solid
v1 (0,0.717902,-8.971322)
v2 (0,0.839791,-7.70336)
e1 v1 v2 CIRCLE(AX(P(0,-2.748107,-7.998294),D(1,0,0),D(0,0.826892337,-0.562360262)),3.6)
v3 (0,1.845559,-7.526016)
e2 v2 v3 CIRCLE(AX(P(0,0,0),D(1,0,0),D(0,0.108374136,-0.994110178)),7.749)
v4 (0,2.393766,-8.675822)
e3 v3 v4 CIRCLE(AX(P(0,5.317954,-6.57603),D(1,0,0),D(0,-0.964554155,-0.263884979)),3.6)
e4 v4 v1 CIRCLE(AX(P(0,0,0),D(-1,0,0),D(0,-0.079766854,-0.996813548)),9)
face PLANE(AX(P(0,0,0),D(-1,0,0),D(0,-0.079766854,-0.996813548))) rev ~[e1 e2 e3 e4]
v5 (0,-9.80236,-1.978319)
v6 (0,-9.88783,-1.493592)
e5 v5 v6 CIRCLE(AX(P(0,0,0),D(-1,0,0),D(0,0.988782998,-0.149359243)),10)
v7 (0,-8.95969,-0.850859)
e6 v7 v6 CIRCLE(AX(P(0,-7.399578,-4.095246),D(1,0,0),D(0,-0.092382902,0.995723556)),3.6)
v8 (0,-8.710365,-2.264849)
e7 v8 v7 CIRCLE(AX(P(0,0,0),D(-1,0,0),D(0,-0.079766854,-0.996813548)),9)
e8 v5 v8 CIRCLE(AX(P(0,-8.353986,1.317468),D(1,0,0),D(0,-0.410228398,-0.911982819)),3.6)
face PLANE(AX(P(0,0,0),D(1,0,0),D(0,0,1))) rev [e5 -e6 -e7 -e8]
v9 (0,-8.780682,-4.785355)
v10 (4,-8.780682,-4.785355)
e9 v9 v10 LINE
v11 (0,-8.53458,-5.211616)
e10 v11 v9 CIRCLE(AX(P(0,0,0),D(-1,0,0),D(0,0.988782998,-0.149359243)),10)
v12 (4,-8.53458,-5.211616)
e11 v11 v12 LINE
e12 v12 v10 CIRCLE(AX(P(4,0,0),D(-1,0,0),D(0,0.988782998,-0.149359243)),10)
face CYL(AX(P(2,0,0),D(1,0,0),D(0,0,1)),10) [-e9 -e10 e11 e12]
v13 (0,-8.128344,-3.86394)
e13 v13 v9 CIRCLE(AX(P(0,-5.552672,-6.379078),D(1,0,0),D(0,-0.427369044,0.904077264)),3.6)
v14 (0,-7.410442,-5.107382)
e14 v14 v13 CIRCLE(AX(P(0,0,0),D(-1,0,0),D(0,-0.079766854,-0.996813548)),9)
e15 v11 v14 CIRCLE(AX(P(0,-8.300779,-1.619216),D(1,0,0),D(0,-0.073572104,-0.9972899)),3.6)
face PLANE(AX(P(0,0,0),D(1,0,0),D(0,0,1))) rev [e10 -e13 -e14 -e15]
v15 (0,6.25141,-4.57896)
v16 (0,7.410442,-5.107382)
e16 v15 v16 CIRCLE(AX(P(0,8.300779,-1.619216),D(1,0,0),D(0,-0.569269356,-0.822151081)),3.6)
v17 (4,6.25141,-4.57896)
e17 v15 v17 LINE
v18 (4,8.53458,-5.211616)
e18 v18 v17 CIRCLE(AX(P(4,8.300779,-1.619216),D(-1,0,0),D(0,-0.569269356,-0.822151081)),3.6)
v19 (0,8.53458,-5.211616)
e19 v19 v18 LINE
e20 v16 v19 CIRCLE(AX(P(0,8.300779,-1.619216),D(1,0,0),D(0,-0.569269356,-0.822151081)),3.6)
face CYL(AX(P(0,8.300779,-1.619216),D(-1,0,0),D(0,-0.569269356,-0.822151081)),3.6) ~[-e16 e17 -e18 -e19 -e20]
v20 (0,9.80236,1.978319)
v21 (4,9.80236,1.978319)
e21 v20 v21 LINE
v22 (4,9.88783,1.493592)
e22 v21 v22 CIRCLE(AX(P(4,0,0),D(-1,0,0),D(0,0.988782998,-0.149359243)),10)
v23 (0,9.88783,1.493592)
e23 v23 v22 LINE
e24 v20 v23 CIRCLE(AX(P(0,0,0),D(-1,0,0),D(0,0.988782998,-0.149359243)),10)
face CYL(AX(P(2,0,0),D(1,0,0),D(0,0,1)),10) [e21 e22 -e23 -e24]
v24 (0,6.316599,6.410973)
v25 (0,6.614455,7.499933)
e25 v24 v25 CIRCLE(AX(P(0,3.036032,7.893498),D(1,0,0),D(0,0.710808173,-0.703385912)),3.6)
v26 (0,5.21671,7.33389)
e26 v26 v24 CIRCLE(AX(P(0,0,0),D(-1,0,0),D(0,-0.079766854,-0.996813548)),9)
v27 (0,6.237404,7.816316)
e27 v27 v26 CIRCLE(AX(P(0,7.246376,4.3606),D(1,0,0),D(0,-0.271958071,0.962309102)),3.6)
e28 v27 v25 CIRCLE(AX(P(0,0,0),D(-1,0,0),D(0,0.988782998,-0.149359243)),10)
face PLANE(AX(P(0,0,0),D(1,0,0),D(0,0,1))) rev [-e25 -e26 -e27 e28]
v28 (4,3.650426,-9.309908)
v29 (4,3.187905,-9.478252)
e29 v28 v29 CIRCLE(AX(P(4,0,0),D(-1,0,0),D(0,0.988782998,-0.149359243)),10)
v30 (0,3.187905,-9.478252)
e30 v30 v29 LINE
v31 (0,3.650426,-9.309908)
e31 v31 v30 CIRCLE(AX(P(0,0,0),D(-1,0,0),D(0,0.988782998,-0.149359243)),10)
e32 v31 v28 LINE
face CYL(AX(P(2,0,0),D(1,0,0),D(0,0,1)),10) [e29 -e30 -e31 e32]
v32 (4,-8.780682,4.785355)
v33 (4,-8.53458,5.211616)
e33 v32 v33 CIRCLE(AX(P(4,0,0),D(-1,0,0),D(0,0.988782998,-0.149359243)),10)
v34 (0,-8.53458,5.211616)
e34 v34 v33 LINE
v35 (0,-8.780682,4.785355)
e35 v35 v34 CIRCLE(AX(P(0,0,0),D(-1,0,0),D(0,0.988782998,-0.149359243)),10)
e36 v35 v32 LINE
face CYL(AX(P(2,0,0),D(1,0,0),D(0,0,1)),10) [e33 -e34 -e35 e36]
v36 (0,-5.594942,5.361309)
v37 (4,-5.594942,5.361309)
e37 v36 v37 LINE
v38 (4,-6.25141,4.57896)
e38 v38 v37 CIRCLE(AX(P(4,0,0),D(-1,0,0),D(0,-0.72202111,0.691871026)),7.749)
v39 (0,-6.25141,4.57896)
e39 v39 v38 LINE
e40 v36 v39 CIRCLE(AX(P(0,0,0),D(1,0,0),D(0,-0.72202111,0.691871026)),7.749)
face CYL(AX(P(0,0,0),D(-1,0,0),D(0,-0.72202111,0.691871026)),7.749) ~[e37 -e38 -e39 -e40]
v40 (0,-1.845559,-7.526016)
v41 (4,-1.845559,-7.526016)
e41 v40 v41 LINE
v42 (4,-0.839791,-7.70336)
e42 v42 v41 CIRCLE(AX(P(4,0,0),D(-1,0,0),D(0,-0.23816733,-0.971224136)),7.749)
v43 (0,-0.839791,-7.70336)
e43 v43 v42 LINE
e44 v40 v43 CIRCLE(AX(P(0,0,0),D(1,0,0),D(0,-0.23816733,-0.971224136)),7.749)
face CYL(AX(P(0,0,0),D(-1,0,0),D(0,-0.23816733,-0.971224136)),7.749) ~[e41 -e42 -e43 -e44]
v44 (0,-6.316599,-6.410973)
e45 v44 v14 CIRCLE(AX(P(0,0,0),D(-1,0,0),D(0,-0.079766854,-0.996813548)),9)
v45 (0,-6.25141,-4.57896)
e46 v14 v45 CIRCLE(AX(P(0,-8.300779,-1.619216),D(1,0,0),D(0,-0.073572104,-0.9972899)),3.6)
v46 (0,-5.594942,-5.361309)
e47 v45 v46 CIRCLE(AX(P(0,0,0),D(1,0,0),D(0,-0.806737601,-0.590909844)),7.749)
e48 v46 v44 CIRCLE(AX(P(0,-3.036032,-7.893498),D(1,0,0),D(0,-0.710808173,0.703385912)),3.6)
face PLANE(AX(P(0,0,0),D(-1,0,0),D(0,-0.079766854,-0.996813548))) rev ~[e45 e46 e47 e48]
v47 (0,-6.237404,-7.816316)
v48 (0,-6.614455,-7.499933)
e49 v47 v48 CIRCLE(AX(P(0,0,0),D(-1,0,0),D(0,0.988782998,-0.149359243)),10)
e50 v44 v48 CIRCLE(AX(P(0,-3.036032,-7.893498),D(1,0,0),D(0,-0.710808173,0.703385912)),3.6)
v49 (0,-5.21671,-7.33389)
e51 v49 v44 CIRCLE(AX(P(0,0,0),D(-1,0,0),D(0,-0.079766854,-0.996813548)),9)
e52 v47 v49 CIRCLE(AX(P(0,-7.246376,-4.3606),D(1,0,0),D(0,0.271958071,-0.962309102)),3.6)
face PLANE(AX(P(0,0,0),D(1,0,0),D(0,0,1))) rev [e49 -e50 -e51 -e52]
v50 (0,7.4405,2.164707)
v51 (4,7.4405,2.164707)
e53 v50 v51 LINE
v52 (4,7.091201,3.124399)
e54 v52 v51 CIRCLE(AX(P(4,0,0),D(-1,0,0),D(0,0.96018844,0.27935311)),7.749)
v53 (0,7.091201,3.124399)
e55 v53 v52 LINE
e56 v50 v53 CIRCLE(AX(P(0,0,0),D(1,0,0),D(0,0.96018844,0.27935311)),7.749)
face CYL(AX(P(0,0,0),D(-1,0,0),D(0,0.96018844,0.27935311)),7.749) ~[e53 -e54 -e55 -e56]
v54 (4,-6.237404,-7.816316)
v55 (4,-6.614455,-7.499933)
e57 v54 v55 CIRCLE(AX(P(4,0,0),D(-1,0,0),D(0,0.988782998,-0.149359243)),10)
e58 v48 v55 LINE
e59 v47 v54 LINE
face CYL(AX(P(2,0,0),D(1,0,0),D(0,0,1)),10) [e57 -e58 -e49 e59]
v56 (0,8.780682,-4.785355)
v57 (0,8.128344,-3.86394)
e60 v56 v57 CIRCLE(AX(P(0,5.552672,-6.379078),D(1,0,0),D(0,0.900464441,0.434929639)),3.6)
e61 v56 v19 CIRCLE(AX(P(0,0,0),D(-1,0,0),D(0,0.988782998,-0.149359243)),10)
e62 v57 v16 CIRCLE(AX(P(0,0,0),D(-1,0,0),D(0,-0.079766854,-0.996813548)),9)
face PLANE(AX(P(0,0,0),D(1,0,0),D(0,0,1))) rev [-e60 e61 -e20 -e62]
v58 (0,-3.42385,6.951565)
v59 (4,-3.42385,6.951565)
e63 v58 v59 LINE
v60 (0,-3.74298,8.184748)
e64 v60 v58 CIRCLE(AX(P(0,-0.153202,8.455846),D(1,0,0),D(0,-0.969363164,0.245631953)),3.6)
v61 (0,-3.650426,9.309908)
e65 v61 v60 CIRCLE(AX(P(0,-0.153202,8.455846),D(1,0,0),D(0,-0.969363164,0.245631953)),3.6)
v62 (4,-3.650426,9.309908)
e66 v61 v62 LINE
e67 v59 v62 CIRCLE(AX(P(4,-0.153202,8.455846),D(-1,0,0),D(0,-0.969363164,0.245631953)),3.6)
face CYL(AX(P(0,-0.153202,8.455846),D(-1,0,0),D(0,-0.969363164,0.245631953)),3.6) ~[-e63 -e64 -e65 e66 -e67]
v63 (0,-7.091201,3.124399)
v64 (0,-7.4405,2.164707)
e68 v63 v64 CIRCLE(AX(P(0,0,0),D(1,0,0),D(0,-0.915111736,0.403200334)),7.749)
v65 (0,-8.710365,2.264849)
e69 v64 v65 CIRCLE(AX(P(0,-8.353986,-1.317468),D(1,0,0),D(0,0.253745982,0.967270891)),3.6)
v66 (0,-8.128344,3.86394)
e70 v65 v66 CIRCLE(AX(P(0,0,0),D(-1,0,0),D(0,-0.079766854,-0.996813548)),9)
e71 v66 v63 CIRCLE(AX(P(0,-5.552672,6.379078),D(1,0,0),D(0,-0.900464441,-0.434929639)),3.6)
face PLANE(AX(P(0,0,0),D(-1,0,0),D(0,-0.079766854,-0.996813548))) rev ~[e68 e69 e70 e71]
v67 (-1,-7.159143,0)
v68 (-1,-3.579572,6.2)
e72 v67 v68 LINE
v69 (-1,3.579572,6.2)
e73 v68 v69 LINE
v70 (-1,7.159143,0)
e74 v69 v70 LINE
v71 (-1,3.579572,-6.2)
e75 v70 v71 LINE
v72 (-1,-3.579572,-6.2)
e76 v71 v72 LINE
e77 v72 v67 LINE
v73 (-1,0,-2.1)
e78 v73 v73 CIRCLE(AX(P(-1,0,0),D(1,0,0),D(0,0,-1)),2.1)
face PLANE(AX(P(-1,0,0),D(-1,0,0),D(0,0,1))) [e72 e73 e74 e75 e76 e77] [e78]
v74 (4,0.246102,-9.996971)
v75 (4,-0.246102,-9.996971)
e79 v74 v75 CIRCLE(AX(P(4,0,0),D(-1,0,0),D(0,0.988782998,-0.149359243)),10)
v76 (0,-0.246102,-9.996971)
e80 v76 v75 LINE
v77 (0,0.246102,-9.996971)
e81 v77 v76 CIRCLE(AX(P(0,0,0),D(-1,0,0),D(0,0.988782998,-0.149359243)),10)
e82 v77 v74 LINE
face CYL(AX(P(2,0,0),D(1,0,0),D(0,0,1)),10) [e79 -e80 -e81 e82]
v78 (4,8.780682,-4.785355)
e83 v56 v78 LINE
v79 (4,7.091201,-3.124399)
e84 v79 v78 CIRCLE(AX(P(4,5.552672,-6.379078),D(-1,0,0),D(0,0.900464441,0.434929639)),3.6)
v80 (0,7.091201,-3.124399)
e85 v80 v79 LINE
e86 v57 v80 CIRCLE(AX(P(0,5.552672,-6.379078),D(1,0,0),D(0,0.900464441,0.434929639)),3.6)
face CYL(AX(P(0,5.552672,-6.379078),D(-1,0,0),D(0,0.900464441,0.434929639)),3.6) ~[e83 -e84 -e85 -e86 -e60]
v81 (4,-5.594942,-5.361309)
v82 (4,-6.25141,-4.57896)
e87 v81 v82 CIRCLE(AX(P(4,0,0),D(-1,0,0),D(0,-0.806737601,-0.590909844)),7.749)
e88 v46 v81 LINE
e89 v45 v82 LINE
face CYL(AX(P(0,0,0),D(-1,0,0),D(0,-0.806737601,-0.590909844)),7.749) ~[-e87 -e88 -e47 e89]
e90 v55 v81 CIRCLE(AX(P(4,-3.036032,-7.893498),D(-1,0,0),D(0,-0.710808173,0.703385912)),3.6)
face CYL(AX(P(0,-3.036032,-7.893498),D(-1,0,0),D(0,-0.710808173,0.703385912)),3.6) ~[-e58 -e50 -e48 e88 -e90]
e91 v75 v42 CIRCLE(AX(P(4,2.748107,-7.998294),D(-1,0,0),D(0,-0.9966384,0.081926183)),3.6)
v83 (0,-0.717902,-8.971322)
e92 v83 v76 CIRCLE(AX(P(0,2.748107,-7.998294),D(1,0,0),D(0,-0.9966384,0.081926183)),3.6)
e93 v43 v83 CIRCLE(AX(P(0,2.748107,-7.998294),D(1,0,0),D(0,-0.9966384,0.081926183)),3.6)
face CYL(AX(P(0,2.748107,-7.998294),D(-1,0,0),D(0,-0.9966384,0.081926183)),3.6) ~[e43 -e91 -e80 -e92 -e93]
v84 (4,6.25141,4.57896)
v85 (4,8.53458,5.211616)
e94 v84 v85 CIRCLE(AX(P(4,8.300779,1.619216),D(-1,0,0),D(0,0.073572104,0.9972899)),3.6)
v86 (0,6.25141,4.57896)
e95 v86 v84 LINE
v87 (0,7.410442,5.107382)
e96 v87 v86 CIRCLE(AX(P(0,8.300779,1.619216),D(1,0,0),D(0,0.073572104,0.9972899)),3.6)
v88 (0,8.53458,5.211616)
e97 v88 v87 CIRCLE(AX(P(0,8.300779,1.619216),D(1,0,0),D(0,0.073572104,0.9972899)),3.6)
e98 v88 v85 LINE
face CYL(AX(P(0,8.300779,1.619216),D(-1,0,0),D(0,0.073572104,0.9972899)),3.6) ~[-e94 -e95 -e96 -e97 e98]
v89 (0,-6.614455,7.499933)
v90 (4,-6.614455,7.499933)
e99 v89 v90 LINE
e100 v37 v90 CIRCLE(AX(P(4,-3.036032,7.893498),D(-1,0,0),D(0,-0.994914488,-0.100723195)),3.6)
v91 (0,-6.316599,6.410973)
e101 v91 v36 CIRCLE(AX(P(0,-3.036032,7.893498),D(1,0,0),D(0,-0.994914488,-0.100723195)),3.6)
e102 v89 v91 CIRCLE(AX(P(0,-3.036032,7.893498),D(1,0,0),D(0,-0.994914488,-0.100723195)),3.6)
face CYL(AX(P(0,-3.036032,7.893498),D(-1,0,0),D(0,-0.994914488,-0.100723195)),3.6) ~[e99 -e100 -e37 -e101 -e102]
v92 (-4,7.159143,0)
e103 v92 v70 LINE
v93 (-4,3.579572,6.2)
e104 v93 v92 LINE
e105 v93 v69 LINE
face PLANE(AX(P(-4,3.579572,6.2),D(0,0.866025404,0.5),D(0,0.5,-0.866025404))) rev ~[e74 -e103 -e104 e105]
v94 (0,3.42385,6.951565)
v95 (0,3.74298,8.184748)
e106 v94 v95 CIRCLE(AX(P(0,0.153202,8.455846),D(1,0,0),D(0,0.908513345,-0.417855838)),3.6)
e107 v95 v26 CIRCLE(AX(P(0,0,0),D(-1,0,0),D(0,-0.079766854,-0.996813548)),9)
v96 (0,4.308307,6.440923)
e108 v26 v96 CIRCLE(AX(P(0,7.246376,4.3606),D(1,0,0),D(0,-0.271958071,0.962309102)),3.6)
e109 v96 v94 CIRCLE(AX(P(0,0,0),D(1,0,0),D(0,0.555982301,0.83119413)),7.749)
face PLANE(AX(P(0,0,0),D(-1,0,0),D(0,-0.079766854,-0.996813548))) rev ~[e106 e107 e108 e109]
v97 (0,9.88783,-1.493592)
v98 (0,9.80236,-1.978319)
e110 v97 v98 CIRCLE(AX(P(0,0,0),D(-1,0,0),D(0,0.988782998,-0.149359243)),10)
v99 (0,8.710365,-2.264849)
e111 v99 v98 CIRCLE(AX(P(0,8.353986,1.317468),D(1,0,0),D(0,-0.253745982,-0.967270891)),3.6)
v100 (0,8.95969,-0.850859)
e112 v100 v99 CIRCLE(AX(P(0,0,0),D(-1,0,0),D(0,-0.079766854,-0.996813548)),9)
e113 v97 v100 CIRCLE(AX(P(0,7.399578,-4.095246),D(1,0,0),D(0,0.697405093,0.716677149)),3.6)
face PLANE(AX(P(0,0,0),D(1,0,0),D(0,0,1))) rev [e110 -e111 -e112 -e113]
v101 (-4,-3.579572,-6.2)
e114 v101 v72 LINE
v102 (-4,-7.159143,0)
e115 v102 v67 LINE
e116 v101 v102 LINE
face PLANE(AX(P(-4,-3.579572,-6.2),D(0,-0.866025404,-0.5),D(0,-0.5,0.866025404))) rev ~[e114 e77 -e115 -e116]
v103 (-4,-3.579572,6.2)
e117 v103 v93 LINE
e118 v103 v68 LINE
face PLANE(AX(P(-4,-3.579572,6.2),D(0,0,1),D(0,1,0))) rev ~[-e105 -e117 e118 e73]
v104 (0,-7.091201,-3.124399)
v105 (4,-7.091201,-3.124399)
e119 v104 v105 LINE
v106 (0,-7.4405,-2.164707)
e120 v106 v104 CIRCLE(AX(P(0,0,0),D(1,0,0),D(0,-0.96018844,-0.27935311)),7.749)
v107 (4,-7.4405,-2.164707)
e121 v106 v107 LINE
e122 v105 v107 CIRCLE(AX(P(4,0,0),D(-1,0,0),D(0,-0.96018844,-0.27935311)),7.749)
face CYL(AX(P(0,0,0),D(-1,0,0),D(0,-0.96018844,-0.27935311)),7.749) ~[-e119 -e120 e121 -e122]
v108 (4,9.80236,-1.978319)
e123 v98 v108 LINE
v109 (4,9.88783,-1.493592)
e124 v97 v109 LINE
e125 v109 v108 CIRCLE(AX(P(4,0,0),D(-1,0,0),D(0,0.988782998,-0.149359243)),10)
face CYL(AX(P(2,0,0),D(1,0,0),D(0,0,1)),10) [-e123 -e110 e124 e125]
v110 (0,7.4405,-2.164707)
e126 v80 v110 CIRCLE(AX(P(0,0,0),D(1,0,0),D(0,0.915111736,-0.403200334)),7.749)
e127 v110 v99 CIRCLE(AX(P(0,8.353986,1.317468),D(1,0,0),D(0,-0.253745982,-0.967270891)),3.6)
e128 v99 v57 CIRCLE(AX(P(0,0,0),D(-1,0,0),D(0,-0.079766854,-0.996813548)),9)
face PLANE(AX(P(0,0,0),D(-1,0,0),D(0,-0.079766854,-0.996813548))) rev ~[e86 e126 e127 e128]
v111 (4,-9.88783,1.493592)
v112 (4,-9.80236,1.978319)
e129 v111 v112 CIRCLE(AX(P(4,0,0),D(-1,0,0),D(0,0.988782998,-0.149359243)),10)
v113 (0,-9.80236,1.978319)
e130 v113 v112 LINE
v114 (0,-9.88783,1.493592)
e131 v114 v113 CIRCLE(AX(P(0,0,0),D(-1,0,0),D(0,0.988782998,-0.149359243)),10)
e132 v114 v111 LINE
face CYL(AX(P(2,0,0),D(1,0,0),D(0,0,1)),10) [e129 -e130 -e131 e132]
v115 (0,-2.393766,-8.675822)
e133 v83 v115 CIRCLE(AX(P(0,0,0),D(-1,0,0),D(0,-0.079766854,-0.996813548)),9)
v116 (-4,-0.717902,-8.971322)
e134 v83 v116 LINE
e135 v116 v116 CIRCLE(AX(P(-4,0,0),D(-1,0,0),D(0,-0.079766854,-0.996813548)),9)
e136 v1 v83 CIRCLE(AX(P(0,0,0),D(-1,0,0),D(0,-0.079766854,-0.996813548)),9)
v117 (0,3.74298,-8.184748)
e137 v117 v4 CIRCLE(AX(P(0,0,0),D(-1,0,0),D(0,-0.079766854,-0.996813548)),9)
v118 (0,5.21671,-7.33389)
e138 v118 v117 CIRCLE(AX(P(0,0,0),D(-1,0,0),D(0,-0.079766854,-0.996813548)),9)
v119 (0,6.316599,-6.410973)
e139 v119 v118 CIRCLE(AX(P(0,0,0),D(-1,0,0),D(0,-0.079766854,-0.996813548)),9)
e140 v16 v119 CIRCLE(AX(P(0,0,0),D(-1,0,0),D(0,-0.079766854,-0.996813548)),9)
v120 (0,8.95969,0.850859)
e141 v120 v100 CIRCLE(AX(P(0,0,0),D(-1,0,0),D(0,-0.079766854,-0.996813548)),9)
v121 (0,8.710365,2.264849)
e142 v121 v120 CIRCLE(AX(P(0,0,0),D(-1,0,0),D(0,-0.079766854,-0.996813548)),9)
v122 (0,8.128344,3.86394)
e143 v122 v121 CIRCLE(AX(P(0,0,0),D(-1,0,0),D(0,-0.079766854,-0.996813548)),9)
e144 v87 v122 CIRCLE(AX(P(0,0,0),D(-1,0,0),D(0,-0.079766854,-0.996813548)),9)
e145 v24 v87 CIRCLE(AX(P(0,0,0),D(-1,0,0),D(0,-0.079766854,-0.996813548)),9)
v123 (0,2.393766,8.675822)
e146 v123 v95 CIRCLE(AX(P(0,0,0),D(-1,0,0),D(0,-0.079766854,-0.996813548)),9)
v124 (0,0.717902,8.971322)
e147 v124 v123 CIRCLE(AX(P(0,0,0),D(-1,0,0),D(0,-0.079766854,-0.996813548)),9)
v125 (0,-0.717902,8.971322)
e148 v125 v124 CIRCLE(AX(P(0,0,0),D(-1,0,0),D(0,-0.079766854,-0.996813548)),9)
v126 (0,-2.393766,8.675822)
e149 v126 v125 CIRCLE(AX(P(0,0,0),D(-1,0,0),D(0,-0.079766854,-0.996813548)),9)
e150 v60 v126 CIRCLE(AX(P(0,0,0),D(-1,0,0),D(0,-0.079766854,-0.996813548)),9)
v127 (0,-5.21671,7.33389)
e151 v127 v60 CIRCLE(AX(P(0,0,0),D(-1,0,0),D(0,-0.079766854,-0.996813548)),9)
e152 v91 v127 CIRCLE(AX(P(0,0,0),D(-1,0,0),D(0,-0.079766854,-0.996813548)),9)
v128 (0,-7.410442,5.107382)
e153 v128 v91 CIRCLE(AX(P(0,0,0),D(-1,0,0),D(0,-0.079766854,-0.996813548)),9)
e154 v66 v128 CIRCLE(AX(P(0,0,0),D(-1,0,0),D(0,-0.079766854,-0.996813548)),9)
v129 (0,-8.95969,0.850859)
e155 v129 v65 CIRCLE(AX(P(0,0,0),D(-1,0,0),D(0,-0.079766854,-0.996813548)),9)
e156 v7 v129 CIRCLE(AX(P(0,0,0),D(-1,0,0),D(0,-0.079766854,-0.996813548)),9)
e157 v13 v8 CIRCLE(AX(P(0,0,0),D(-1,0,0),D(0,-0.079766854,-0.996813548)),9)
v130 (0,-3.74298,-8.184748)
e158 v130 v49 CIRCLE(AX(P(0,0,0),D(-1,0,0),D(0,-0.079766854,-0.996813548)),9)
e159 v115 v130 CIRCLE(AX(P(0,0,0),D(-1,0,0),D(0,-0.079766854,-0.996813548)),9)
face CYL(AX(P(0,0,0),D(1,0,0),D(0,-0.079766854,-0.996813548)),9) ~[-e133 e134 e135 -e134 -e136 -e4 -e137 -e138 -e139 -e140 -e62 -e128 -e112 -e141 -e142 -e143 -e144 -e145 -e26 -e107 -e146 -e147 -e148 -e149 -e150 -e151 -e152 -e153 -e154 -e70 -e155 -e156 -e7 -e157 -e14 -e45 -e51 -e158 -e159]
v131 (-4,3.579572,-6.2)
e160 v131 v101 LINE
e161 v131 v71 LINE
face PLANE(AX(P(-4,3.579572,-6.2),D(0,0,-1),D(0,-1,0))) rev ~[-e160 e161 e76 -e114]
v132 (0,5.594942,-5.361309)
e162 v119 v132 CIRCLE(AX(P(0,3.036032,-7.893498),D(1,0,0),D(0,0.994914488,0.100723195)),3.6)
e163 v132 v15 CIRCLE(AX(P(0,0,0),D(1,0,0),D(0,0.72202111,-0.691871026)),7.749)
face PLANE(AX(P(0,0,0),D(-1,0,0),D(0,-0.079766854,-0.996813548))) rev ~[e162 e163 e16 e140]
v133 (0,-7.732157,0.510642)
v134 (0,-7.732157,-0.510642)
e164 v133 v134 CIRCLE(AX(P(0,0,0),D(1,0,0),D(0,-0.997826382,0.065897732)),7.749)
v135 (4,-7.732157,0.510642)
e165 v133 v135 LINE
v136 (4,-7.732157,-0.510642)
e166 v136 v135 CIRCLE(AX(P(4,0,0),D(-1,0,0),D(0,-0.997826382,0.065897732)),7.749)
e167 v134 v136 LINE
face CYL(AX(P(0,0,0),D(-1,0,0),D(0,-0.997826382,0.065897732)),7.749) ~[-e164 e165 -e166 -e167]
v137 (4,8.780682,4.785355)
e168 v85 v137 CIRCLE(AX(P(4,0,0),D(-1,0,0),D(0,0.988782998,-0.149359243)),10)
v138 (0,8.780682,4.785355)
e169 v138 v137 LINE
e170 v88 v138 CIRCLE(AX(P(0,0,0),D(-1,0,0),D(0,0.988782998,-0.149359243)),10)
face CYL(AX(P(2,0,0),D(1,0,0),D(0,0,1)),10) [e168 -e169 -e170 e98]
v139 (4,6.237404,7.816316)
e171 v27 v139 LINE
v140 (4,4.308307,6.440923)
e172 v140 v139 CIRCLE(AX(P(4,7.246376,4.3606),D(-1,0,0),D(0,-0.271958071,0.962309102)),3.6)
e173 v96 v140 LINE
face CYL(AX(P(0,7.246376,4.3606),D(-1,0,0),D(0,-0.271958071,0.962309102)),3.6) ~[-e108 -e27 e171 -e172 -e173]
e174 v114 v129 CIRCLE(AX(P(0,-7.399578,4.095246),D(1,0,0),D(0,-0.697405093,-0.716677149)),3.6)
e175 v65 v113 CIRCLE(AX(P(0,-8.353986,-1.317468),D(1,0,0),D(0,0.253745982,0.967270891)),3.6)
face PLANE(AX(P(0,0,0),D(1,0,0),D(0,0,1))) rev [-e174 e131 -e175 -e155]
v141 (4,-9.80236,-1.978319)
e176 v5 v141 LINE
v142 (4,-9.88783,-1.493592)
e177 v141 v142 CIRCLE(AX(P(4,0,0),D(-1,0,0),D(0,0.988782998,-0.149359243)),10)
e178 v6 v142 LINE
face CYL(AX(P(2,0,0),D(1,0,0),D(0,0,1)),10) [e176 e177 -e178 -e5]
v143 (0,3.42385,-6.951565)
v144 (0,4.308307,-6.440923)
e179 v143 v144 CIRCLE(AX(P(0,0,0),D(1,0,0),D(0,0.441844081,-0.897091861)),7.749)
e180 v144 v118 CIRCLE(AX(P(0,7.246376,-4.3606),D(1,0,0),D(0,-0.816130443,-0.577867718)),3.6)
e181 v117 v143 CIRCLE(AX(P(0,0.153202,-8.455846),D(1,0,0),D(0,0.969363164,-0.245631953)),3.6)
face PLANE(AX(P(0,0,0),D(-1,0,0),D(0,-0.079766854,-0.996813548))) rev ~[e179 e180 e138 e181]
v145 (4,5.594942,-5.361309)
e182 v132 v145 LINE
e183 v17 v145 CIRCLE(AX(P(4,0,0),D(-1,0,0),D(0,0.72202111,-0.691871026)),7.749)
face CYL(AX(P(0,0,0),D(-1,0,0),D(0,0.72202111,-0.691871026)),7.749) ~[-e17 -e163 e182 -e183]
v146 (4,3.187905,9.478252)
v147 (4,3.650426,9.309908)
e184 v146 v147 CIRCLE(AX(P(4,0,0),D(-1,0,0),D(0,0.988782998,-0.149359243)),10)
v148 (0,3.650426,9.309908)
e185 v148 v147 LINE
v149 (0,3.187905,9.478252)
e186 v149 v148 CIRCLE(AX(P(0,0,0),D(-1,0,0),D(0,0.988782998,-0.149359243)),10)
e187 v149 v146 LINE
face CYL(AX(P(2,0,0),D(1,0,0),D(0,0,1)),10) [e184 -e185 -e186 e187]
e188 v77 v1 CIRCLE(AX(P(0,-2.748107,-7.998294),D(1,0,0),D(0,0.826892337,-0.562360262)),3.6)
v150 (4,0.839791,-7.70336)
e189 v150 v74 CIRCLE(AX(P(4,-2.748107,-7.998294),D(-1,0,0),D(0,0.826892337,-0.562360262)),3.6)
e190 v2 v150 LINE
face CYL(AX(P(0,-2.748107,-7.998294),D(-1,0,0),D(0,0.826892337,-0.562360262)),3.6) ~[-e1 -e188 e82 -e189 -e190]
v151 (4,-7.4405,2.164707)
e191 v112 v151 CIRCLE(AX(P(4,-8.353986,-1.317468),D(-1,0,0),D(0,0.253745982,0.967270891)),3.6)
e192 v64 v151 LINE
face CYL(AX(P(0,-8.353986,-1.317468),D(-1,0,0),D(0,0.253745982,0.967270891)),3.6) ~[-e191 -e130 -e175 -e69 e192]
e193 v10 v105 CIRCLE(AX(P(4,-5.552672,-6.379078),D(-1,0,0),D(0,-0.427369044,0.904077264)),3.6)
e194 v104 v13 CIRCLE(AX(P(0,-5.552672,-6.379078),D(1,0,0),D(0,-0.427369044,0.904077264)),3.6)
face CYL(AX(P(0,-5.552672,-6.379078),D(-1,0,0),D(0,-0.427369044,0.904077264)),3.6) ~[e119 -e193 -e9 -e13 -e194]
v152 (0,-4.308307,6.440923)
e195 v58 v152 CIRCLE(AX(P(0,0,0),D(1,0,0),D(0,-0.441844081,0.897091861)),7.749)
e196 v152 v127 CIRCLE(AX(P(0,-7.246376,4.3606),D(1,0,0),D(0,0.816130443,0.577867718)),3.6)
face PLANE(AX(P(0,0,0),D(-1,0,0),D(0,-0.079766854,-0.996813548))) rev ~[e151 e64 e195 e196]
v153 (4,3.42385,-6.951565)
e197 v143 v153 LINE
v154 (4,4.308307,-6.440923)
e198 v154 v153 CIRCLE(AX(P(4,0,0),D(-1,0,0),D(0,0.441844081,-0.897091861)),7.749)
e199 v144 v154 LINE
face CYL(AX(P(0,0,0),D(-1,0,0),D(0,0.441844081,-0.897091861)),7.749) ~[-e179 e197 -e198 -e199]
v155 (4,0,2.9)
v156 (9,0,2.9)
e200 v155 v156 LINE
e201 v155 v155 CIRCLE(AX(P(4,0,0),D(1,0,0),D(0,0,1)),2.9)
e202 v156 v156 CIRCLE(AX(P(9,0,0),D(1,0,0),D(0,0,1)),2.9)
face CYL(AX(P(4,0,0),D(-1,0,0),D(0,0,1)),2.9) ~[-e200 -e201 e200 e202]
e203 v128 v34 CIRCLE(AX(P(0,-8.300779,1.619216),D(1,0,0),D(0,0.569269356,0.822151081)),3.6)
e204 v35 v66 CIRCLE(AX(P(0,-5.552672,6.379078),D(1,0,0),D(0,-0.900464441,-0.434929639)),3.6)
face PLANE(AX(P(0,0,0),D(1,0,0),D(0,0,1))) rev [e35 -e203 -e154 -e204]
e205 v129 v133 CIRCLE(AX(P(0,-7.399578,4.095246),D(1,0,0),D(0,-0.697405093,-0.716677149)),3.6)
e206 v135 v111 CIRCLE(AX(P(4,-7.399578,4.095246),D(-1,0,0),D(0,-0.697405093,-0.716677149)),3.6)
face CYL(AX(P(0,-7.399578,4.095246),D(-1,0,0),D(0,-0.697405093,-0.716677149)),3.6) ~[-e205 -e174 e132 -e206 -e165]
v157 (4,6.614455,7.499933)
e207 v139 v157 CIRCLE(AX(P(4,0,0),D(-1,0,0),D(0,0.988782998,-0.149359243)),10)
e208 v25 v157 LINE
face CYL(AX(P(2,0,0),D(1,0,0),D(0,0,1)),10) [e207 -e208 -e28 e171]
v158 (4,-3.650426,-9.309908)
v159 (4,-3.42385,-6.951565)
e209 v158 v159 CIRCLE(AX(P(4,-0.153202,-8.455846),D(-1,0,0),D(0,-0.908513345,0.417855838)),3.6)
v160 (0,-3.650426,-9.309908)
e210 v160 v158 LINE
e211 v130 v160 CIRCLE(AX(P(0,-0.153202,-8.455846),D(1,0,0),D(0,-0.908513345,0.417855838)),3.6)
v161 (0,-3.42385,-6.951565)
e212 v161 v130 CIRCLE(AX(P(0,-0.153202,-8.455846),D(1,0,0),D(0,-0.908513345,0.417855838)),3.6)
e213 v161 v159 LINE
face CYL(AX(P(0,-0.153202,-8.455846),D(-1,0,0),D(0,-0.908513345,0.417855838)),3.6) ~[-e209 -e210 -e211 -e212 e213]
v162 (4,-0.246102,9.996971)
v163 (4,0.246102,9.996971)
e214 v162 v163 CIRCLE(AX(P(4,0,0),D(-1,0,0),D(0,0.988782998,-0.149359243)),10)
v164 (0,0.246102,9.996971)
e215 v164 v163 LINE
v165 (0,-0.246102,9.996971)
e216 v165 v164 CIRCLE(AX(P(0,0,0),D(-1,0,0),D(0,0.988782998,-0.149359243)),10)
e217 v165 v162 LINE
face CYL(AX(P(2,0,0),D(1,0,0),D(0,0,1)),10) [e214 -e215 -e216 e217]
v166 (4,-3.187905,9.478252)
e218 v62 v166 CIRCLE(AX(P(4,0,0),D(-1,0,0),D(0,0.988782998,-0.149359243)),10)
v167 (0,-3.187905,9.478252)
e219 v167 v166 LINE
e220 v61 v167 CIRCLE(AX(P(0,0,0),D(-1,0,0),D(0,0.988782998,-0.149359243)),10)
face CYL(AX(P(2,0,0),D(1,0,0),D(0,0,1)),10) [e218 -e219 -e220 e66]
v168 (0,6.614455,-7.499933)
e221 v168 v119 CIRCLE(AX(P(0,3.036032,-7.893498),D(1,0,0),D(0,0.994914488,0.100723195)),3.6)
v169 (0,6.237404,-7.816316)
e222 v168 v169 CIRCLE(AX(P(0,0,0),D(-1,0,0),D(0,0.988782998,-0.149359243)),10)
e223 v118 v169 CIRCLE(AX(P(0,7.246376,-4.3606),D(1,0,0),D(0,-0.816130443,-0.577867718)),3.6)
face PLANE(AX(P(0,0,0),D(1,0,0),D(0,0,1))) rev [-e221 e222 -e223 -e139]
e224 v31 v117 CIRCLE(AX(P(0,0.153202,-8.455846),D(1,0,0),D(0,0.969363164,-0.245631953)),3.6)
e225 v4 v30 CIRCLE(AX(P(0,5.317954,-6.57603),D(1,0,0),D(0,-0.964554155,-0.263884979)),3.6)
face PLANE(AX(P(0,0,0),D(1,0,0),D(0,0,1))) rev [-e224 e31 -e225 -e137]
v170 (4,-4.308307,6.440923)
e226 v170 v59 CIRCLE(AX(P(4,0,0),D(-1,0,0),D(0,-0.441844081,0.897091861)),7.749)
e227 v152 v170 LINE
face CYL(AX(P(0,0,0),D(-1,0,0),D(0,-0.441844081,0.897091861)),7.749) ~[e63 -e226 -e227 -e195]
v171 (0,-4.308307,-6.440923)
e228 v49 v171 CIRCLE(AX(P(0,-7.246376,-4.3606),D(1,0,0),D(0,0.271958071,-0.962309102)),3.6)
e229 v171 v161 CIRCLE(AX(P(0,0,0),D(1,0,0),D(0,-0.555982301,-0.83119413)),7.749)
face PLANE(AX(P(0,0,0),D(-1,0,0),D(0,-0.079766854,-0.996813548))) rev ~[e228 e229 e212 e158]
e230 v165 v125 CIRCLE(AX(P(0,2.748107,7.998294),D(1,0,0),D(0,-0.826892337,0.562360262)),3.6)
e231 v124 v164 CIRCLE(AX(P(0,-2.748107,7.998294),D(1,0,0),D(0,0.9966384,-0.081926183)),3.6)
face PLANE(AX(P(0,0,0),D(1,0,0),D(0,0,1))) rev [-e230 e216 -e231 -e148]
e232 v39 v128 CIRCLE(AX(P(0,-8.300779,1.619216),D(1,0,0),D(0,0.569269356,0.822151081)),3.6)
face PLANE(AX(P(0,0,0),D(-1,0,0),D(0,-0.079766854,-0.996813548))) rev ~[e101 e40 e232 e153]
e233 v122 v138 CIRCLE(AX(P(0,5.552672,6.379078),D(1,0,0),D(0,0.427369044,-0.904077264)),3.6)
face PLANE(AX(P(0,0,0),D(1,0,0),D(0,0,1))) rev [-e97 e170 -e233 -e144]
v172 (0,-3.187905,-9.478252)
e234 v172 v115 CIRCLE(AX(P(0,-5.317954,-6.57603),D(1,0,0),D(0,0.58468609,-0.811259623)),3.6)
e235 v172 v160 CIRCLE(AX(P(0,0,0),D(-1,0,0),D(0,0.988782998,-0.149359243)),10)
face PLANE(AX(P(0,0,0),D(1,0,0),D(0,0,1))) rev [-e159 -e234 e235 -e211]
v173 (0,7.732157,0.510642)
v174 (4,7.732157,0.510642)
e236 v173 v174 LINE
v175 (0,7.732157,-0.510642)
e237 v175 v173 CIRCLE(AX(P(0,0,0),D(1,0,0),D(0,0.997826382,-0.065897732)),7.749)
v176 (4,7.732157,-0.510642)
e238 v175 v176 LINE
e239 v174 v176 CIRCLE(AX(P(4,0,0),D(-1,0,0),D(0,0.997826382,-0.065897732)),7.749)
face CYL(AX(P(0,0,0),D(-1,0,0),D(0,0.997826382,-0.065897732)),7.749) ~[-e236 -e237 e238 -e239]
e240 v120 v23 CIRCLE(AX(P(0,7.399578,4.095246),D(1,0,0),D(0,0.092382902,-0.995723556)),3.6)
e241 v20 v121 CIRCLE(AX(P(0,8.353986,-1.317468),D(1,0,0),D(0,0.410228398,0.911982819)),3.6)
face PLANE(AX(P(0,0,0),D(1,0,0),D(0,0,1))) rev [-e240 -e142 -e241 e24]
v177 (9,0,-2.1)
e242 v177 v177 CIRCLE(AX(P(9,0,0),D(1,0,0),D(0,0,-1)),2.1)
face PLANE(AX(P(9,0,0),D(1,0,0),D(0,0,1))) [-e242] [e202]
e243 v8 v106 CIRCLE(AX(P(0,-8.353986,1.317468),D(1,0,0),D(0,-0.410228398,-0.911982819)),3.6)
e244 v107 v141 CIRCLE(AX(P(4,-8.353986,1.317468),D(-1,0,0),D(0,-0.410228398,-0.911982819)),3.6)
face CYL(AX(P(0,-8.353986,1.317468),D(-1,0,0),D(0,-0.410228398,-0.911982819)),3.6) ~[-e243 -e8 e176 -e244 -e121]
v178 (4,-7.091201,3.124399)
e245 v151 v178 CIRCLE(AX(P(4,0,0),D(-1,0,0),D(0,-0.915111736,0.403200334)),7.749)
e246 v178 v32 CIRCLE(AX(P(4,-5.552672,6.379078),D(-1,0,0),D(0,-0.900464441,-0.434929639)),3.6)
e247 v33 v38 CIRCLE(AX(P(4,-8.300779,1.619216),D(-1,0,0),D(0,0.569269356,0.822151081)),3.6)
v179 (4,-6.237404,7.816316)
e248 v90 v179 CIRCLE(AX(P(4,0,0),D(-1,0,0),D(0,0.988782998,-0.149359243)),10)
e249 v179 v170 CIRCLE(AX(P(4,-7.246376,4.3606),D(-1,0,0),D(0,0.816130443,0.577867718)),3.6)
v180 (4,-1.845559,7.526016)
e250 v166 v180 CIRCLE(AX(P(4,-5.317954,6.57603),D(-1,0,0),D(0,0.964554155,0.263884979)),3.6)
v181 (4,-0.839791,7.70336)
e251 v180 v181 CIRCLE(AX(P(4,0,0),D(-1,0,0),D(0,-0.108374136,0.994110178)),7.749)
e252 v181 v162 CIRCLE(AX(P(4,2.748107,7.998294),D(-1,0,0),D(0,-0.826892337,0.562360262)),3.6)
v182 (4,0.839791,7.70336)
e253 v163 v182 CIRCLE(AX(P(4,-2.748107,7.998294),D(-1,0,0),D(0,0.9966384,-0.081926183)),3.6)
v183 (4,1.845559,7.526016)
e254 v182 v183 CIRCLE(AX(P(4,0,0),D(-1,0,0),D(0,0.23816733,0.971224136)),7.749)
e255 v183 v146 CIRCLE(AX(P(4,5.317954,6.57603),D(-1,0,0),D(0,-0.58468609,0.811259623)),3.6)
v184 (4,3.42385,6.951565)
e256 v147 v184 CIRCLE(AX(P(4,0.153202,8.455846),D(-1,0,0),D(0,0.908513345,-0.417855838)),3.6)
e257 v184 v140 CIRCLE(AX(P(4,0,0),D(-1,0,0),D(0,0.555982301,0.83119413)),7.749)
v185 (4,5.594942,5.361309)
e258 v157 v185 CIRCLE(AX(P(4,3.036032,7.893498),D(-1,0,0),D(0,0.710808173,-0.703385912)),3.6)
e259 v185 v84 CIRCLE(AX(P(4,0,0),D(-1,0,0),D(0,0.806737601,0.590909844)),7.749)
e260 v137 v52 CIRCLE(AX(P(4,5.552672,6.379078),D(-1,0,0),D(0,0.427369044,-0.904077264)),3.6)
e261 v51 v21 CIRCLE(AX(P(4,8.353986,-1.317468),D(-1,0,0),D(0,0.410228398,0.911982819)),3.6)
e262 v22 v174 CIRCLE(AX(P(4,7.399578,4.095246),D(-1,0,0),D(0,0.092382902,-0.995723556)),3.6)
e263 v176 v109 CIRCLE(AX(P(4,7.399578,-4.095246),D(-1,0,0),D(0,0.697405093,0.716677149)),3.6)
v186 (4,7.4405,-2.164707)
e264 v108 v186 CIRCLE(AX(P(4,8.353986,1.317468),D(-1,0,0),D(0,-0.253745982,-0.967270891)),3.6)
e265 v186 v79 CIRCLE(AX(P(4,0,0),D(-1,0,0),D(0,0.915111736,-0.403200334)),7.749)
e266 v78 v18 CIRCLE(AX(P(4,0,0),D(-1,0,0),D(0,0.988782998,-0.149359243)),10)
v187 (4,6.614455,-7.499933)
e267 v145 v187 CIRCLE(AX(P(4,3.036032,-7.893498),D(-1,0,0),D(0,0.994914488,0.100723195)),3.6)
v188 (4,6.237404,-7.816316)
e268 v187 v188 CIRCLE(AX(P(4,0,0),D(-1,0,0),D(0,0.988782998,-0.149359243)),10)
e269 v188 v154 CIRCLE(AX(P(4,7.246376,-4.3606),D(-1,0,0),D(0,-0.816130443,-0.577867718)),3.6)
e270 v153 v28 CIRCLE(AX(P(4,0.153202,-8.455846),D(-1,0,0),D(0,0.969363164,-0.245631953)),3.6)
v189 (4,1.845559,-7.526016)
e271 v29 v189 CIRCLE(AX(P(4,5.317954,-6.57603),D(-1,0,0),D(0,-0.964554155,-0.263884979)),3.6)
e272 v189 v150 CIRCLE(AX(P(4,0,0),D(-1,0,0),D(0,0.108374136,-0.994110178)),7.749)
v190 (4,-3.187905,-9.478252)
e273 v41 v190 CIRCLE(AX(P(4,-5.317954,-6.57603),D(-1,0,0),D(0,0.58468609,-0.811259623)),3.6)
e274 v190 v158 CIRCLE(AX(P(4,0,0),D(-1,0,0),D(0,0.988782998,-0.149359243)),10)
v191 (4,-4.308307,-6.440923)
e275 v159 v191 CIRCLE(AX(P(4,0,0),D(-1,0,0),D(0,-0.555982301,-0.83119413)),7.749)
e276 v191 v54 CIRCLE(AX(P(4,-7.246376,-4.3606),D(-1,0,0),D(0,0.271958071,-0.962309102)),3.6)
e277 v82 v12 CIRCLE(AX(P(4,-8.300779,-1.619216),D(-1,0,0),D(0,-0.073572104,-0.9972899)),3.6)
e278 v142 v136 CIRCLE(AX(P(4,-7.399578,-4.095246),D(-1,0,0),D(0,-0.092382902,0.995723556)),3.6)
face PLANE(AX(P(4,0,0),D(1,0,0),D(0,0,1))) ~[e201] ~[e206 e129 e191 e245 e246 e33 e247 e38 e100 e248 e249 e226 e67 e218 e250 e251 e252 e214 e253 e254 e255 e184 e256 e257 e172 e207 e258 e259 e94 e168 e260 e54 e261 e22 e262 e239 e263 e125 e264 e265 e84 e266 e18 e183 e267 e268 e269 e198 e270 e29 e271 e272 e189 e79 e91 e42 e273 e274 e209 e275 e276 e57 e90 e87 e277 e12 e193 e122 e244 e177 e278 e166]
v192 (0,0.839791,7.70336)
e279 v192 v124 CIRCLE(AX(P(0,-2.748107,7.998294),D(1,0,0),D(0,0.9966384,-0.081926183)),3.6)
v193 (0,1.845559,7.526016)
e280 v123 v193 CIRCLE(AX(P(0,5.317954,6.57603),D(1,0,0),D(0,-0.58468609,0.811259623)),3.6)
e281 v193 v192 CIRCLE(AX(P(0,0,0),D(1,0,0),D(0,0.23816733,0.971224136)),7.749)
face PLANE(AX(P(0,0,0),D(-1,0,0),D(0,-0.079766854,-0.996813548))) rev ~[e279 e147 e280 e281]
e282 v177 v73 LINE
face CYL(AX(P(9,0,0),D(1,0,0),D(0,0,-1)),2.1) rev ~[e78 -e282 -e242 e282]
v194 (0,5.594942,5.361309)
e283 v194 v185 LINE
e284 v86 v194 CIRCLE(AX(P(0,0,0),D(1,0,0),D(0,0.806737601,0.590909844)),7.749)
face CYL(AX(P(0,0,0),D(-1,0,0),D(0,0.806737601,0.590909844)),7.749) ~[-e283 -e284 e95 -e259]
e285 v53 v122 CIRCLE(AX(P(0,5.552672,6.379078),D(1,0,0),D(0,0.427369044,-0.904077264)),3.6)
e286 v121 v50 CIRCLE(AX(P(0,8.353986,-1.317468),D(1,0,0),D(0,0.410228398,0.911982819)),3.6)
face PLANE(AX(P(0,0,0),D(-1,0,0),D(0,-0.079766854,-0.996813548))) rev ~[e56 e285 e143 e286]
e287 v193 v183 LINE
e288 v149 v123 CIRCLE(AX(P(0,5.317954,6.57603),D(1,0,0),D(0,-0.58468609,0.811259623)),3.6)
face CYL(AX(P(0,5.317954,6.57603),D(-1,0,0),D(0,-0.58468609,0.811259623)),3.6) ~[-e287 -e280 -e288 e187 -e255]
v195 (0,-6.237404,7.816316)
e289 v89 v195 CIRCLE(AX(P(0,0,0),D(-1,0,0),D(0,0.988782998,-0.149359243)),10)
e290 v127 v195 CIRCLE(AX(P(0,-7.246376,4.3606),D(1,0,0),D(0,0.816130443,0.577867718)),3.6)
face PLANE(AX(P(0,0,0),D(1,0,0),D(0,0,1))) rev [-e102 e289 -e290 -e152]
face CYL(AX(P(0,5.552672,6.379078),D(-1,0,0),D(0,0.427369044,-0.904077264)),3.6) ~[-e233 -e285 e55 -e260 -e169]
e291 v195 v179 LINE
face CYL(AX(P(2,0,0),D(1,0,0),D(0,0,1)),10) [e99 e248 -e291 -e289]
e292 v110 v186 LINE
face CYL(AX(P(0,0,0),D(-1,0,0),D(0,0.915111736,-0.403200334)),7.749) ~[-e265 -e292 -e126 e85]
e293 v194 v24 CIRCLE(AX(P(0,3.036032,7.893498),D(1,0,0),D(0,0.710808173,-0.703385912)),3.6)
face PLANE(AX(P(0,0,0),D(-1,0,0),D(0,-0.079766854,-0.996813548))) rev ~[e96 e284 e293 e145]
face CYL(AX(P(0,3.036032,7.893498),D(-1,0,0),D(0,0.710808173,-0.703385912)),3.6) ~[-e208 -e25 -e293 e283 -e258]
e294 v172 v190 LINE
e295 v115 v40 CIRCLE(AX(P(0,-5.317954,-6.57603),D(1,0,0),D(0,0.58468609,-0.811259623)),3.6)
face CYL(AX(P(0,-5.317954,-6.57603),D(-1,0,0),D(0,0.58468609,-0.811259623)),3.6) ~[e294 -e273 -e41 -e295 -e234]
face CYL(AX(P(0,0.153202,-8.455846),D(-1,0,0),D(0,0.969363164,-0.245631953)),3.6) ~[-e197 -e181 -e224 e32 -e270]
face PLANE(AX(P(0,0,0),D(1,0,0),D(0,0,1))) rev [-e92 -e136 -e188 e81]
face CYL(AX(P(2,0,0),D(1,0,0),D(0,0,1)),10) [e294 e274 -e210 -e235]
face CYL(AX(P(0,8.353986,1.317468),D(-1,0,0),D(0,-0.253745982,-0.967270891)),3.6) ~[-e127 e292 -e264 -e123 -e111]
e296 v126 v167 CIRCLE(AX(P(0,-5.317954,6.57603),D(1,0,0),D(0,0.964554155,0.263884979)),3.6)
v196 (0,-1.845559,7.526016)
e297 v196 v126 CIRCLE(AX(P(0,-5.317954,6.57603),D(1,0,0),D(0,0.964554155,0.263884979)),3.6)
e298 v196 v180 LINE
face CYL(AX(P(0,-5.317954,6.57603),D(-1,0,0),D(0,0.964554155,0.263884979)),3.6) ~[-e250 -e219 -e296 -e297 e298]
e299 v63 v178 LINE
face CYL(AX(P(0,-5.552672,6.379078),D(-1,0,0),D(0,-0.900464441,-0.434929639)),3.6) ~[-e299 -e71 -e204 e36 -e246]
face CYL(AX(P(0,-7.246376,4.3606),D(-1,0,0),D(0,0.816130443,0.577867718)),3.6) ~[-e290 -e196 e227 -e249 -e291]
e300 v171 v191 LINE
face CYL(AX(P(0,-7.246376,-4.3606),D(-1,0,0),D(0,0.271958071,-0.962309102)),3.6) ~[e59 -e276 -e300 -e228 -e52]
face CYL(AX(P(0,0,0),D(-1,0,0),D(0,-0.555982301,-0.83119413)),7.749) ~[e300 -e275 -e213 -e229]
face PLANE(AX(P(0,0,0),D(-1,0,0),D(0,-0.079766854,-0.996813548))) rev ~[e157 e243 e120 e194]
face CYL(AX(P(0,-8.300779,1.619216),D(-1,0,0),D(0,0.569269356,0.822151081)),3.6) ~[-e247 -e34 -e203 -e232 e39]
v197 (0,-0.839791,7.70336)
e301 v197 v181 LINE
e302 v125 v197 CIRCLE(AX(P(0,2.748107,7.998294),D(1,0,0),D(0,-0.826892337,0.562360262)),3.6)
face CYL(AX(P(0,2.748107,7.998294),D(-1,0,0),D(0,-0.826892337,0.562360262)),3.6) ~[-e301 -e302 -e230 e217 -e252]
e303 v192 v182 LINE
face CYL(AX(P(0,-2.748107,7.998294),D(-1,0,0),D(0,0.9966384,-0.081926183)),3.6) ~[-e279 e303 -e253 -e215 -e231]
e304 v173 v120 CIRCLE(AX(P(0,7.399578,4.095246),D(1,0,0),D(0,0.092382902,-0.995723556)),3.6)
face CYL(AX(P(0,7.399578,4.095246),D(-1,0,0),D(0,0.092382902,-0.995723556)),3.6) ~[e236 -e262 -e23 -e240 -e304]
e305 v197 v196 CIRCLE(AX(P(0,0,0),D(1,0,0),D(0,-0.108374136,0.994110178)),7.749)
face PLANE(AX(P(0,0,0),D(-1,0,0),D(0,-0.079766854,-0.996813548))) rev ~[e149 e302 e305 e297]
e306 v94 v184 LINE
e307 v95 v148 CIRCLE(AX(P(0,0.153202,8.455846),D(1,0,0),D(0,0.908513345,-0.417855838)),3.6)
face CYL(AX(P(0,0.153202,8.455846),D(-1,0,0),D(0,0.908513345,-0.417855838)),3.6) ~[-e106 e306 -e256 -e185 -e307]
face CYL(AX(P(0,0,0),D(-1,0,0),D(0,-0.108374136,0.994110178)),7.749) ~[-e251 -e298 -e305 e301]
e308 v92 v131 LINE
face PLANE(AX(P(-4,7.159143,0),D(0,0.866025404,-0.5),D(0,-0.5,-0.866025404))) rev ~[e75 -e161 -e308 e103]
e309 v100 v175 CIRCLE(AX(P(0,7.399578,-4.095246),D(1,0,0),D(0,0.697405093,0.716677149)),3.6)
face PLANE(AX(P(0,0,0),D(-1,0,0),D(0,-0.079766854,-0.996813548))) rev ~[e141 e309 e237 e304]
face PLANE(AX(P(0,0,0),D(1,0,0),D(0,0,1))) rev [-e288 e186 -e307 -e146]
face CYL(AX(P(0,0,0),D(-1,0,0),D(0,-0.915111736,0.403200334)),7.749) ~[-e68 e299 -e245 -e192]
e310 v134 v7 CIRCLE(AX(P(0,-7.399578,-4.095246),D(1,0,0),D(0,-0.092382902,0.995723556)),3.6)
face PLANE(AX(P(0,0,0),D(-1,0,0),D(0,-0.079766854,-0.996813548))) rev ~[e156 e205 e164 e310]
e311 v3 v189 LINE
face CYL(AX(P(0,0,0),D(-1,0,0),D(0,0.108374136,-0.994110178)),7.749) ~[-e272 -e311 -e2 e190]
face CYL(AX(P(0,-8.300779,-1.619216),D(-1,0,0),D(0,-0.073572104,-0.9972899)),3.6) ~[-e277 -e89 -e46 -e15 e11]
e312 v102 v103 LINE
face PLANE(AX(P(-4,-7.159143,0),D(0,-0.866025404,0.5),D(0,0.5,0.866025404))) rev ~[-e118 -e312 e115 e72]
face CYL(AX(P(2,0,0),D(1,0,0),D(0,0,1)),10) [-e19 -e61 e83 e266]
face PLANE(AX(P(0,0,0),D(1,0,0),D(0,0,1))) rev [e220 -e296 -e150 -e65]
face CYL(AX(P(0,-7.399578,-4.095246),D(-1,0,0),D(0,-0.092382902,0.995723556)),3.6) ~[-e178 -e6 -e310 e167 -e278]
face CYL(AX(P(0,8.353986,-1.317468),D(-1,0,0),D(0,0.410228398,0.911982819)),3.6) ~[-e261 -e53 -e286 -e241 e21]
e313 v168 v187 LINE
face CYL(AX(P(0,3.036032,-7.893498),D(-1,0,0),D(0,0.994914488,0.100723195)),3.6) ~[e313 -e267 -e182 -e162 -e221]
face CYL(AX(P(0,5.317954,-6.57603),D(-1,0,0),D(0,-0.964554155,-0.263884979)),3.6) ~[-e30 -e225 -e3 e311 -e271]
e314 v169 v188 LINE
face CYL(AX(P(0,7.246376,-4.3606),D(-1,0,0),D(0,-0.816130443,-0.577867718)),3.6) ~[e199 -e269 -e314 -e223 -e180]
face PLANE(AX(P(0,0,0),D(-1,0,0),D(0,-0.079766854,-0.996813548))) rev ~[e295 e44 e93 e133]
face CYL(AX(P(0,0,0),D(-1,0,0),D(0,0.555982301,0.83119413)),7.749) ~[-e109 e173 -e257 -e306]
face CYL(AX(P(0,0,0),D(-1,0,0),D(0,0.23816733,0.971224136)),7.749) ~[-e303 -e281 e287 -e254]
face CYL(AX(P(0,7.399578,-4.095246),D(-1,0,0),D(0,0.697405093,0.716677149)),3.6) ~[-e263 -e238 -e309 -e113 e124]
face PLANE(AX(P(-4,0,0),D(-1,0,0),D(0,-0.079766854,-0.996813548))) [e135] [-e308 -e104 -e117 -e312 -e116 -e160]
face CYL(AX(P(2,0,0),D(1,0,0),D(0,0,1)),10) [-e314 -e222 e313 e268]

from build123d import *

# Parameters (mm, degrees)
BASPROSKE_W         = 4
BASPROSKE_H         = 10
TOOTHCUT_DEPTH      = 15.696938457
TEETHCUTS_COUNT     = 18
TEETHCUTS_ANGLE     = 340
BORSKE_R            = 2
BORE_DEPTH          = 50.0000508
SKETCH_1_R          = 9
EXTRUDE_1_DEPTH     = 4
SKETCH_2_R          = 2
CUT_EXTRUDE_1_DEPTH = 17.179282483
CUT_EXTRUDE_2_DEPTH = 3
SKETCH_6_R          = 2.9
EXTRUDE_2_DEPTH     = 5
SKETCH_7_R          = 2.1
CUT_EXTRUDE_3_DEPTH = 20.151218803


with BuildPart() as part:
    # BasProSke → Base-Revolve (revolve)
    with BuildSketch(Plane(origin=(0, 0, 0), x_dir=(1, 0, 0), z_dir=(0, 1, 0)), mode=Mode.PRIVATE) as base_revolve_sk:
        with Locations((2, 5)):
            Rectangle(BASPROSKE_W, BASPROSKE_H)
    revolve(base_revolve_sk.sketch.rotate(Axis((-10, 0, 0), (1, 0, 0)), 180), axis=Axis((-10, 0, 0), (1, 0, 0)))

    # TooCutSke → ToothCut (cut, through all)
    with BuildSketch(Plane(origin=(0, 0, 0), x_dir=(0, 0, -1), z_dir=(1, 0, 0))):
        with BuildLine():
            ThreePointArc((0.510641536, 7.732156635), (0, 7.749), (-0.510641536, 7.732156635))
            ThreePointArc((-0.510641536, 7.732156635), (-0.82619259, 8.907320741), (-1.515208602, 9.910236529))
            ThreePointArc((-1.515208602, 9.910236529), (0, 10.0254), (1.515208602, 9.910236529))
            ThreePointArc((1.515208602, 9.910236529), (0.82619259, 8.907320741), (0.510641536, 7.732156635))
        make_face()
    toothcut = extrude(amount=TOOTHCUT_DEPTH, mode=Mode.SUBTRACT)

    # TeethCuts: ToothCut ×18 about axis
    teethcuts_axis = Axis((-10, 0, 0), (1, 0, 0))
    for i in range(1, TEETHCUTS_COUNT):
        add(toothcut.rotate(teethcuts_axis, i * TEETHCUTS_ANGLE / (TEETHCUTS_COUNT - 1)), mode=Mode.SUBTRACT)

    # BorSke → Bore (cut, symmetric)
    with BuildSketch(Plane(origin=(0, 0, 0), x_dir=(0, 0, -1), z_dir=(1, 0, 0))):
        with Locations(Location((0, 0, 0), (0, 0, 180))):
            Circle(BORSKE_R)
    extrude(amount=BORE_DEPTH, both=True, mode=Mode.SUBTRACT)

    # 草图1 → 凸台-拉伸1 (add)
    with BuildSketch(Plane.ZY):
        with Locations(Location((0, 0, 0), (0, 0, 184.575164613))):
            Circle(SKETCH_1_R)
    extrude(amount=EXTRUDE_1_DEPTH)

    # 草图2 → 切除-拉伸1 (cut, through all)
    with BuildSketch(Plane.ZY.offset(4)):
        Circle(SKETCH_2_R)
    extrude(amount=-CUT_EXTRUDE_1_DEPTH, mode=Mode.SUBTRACT)

    # 草图3 → 切除-拉伸2 (cut)
    with BuildSketch(Plane.ZY.offset(4)):
        Polygon((6.2, 3.579571669), (0, 7.159143338), (-6.2, 3.579571669), (-6.2, -3.579571669), (0, -7.159143338), (6.2, -3.579571669), align=None)
    extrude(amount=-CUT_EXTRUDE_2_DEPTH, mode=Mode.SUBTRACT)

    # 草图6 → 凸台-拉伸2 (add)
    with BuildSketch(Plane(origin=(4, 0, 0), x_dir=(0, 0, -1), z_dir=(1, 0, 0))):
        with Locations(Location((0, 0, 0), (0, 0, 180))):
            Circle(SKETCH_6_R)
    extrude(amount=EXTRUDE_2_DEPTH)

    # 草图7 → 切除-拉伸3 (cut, through all)
    with BuildSketch(Plane(origin=(9, 0, 0), x_dir=(0, 0, -1), z_dir=(1, 0, 0))):
        Circle(SKETCH_7_R)
    extrude(amount=-CUT_EXTRUDE_3_DEPTH, mode=Mode.SUBTRACT)


solid = part.part
